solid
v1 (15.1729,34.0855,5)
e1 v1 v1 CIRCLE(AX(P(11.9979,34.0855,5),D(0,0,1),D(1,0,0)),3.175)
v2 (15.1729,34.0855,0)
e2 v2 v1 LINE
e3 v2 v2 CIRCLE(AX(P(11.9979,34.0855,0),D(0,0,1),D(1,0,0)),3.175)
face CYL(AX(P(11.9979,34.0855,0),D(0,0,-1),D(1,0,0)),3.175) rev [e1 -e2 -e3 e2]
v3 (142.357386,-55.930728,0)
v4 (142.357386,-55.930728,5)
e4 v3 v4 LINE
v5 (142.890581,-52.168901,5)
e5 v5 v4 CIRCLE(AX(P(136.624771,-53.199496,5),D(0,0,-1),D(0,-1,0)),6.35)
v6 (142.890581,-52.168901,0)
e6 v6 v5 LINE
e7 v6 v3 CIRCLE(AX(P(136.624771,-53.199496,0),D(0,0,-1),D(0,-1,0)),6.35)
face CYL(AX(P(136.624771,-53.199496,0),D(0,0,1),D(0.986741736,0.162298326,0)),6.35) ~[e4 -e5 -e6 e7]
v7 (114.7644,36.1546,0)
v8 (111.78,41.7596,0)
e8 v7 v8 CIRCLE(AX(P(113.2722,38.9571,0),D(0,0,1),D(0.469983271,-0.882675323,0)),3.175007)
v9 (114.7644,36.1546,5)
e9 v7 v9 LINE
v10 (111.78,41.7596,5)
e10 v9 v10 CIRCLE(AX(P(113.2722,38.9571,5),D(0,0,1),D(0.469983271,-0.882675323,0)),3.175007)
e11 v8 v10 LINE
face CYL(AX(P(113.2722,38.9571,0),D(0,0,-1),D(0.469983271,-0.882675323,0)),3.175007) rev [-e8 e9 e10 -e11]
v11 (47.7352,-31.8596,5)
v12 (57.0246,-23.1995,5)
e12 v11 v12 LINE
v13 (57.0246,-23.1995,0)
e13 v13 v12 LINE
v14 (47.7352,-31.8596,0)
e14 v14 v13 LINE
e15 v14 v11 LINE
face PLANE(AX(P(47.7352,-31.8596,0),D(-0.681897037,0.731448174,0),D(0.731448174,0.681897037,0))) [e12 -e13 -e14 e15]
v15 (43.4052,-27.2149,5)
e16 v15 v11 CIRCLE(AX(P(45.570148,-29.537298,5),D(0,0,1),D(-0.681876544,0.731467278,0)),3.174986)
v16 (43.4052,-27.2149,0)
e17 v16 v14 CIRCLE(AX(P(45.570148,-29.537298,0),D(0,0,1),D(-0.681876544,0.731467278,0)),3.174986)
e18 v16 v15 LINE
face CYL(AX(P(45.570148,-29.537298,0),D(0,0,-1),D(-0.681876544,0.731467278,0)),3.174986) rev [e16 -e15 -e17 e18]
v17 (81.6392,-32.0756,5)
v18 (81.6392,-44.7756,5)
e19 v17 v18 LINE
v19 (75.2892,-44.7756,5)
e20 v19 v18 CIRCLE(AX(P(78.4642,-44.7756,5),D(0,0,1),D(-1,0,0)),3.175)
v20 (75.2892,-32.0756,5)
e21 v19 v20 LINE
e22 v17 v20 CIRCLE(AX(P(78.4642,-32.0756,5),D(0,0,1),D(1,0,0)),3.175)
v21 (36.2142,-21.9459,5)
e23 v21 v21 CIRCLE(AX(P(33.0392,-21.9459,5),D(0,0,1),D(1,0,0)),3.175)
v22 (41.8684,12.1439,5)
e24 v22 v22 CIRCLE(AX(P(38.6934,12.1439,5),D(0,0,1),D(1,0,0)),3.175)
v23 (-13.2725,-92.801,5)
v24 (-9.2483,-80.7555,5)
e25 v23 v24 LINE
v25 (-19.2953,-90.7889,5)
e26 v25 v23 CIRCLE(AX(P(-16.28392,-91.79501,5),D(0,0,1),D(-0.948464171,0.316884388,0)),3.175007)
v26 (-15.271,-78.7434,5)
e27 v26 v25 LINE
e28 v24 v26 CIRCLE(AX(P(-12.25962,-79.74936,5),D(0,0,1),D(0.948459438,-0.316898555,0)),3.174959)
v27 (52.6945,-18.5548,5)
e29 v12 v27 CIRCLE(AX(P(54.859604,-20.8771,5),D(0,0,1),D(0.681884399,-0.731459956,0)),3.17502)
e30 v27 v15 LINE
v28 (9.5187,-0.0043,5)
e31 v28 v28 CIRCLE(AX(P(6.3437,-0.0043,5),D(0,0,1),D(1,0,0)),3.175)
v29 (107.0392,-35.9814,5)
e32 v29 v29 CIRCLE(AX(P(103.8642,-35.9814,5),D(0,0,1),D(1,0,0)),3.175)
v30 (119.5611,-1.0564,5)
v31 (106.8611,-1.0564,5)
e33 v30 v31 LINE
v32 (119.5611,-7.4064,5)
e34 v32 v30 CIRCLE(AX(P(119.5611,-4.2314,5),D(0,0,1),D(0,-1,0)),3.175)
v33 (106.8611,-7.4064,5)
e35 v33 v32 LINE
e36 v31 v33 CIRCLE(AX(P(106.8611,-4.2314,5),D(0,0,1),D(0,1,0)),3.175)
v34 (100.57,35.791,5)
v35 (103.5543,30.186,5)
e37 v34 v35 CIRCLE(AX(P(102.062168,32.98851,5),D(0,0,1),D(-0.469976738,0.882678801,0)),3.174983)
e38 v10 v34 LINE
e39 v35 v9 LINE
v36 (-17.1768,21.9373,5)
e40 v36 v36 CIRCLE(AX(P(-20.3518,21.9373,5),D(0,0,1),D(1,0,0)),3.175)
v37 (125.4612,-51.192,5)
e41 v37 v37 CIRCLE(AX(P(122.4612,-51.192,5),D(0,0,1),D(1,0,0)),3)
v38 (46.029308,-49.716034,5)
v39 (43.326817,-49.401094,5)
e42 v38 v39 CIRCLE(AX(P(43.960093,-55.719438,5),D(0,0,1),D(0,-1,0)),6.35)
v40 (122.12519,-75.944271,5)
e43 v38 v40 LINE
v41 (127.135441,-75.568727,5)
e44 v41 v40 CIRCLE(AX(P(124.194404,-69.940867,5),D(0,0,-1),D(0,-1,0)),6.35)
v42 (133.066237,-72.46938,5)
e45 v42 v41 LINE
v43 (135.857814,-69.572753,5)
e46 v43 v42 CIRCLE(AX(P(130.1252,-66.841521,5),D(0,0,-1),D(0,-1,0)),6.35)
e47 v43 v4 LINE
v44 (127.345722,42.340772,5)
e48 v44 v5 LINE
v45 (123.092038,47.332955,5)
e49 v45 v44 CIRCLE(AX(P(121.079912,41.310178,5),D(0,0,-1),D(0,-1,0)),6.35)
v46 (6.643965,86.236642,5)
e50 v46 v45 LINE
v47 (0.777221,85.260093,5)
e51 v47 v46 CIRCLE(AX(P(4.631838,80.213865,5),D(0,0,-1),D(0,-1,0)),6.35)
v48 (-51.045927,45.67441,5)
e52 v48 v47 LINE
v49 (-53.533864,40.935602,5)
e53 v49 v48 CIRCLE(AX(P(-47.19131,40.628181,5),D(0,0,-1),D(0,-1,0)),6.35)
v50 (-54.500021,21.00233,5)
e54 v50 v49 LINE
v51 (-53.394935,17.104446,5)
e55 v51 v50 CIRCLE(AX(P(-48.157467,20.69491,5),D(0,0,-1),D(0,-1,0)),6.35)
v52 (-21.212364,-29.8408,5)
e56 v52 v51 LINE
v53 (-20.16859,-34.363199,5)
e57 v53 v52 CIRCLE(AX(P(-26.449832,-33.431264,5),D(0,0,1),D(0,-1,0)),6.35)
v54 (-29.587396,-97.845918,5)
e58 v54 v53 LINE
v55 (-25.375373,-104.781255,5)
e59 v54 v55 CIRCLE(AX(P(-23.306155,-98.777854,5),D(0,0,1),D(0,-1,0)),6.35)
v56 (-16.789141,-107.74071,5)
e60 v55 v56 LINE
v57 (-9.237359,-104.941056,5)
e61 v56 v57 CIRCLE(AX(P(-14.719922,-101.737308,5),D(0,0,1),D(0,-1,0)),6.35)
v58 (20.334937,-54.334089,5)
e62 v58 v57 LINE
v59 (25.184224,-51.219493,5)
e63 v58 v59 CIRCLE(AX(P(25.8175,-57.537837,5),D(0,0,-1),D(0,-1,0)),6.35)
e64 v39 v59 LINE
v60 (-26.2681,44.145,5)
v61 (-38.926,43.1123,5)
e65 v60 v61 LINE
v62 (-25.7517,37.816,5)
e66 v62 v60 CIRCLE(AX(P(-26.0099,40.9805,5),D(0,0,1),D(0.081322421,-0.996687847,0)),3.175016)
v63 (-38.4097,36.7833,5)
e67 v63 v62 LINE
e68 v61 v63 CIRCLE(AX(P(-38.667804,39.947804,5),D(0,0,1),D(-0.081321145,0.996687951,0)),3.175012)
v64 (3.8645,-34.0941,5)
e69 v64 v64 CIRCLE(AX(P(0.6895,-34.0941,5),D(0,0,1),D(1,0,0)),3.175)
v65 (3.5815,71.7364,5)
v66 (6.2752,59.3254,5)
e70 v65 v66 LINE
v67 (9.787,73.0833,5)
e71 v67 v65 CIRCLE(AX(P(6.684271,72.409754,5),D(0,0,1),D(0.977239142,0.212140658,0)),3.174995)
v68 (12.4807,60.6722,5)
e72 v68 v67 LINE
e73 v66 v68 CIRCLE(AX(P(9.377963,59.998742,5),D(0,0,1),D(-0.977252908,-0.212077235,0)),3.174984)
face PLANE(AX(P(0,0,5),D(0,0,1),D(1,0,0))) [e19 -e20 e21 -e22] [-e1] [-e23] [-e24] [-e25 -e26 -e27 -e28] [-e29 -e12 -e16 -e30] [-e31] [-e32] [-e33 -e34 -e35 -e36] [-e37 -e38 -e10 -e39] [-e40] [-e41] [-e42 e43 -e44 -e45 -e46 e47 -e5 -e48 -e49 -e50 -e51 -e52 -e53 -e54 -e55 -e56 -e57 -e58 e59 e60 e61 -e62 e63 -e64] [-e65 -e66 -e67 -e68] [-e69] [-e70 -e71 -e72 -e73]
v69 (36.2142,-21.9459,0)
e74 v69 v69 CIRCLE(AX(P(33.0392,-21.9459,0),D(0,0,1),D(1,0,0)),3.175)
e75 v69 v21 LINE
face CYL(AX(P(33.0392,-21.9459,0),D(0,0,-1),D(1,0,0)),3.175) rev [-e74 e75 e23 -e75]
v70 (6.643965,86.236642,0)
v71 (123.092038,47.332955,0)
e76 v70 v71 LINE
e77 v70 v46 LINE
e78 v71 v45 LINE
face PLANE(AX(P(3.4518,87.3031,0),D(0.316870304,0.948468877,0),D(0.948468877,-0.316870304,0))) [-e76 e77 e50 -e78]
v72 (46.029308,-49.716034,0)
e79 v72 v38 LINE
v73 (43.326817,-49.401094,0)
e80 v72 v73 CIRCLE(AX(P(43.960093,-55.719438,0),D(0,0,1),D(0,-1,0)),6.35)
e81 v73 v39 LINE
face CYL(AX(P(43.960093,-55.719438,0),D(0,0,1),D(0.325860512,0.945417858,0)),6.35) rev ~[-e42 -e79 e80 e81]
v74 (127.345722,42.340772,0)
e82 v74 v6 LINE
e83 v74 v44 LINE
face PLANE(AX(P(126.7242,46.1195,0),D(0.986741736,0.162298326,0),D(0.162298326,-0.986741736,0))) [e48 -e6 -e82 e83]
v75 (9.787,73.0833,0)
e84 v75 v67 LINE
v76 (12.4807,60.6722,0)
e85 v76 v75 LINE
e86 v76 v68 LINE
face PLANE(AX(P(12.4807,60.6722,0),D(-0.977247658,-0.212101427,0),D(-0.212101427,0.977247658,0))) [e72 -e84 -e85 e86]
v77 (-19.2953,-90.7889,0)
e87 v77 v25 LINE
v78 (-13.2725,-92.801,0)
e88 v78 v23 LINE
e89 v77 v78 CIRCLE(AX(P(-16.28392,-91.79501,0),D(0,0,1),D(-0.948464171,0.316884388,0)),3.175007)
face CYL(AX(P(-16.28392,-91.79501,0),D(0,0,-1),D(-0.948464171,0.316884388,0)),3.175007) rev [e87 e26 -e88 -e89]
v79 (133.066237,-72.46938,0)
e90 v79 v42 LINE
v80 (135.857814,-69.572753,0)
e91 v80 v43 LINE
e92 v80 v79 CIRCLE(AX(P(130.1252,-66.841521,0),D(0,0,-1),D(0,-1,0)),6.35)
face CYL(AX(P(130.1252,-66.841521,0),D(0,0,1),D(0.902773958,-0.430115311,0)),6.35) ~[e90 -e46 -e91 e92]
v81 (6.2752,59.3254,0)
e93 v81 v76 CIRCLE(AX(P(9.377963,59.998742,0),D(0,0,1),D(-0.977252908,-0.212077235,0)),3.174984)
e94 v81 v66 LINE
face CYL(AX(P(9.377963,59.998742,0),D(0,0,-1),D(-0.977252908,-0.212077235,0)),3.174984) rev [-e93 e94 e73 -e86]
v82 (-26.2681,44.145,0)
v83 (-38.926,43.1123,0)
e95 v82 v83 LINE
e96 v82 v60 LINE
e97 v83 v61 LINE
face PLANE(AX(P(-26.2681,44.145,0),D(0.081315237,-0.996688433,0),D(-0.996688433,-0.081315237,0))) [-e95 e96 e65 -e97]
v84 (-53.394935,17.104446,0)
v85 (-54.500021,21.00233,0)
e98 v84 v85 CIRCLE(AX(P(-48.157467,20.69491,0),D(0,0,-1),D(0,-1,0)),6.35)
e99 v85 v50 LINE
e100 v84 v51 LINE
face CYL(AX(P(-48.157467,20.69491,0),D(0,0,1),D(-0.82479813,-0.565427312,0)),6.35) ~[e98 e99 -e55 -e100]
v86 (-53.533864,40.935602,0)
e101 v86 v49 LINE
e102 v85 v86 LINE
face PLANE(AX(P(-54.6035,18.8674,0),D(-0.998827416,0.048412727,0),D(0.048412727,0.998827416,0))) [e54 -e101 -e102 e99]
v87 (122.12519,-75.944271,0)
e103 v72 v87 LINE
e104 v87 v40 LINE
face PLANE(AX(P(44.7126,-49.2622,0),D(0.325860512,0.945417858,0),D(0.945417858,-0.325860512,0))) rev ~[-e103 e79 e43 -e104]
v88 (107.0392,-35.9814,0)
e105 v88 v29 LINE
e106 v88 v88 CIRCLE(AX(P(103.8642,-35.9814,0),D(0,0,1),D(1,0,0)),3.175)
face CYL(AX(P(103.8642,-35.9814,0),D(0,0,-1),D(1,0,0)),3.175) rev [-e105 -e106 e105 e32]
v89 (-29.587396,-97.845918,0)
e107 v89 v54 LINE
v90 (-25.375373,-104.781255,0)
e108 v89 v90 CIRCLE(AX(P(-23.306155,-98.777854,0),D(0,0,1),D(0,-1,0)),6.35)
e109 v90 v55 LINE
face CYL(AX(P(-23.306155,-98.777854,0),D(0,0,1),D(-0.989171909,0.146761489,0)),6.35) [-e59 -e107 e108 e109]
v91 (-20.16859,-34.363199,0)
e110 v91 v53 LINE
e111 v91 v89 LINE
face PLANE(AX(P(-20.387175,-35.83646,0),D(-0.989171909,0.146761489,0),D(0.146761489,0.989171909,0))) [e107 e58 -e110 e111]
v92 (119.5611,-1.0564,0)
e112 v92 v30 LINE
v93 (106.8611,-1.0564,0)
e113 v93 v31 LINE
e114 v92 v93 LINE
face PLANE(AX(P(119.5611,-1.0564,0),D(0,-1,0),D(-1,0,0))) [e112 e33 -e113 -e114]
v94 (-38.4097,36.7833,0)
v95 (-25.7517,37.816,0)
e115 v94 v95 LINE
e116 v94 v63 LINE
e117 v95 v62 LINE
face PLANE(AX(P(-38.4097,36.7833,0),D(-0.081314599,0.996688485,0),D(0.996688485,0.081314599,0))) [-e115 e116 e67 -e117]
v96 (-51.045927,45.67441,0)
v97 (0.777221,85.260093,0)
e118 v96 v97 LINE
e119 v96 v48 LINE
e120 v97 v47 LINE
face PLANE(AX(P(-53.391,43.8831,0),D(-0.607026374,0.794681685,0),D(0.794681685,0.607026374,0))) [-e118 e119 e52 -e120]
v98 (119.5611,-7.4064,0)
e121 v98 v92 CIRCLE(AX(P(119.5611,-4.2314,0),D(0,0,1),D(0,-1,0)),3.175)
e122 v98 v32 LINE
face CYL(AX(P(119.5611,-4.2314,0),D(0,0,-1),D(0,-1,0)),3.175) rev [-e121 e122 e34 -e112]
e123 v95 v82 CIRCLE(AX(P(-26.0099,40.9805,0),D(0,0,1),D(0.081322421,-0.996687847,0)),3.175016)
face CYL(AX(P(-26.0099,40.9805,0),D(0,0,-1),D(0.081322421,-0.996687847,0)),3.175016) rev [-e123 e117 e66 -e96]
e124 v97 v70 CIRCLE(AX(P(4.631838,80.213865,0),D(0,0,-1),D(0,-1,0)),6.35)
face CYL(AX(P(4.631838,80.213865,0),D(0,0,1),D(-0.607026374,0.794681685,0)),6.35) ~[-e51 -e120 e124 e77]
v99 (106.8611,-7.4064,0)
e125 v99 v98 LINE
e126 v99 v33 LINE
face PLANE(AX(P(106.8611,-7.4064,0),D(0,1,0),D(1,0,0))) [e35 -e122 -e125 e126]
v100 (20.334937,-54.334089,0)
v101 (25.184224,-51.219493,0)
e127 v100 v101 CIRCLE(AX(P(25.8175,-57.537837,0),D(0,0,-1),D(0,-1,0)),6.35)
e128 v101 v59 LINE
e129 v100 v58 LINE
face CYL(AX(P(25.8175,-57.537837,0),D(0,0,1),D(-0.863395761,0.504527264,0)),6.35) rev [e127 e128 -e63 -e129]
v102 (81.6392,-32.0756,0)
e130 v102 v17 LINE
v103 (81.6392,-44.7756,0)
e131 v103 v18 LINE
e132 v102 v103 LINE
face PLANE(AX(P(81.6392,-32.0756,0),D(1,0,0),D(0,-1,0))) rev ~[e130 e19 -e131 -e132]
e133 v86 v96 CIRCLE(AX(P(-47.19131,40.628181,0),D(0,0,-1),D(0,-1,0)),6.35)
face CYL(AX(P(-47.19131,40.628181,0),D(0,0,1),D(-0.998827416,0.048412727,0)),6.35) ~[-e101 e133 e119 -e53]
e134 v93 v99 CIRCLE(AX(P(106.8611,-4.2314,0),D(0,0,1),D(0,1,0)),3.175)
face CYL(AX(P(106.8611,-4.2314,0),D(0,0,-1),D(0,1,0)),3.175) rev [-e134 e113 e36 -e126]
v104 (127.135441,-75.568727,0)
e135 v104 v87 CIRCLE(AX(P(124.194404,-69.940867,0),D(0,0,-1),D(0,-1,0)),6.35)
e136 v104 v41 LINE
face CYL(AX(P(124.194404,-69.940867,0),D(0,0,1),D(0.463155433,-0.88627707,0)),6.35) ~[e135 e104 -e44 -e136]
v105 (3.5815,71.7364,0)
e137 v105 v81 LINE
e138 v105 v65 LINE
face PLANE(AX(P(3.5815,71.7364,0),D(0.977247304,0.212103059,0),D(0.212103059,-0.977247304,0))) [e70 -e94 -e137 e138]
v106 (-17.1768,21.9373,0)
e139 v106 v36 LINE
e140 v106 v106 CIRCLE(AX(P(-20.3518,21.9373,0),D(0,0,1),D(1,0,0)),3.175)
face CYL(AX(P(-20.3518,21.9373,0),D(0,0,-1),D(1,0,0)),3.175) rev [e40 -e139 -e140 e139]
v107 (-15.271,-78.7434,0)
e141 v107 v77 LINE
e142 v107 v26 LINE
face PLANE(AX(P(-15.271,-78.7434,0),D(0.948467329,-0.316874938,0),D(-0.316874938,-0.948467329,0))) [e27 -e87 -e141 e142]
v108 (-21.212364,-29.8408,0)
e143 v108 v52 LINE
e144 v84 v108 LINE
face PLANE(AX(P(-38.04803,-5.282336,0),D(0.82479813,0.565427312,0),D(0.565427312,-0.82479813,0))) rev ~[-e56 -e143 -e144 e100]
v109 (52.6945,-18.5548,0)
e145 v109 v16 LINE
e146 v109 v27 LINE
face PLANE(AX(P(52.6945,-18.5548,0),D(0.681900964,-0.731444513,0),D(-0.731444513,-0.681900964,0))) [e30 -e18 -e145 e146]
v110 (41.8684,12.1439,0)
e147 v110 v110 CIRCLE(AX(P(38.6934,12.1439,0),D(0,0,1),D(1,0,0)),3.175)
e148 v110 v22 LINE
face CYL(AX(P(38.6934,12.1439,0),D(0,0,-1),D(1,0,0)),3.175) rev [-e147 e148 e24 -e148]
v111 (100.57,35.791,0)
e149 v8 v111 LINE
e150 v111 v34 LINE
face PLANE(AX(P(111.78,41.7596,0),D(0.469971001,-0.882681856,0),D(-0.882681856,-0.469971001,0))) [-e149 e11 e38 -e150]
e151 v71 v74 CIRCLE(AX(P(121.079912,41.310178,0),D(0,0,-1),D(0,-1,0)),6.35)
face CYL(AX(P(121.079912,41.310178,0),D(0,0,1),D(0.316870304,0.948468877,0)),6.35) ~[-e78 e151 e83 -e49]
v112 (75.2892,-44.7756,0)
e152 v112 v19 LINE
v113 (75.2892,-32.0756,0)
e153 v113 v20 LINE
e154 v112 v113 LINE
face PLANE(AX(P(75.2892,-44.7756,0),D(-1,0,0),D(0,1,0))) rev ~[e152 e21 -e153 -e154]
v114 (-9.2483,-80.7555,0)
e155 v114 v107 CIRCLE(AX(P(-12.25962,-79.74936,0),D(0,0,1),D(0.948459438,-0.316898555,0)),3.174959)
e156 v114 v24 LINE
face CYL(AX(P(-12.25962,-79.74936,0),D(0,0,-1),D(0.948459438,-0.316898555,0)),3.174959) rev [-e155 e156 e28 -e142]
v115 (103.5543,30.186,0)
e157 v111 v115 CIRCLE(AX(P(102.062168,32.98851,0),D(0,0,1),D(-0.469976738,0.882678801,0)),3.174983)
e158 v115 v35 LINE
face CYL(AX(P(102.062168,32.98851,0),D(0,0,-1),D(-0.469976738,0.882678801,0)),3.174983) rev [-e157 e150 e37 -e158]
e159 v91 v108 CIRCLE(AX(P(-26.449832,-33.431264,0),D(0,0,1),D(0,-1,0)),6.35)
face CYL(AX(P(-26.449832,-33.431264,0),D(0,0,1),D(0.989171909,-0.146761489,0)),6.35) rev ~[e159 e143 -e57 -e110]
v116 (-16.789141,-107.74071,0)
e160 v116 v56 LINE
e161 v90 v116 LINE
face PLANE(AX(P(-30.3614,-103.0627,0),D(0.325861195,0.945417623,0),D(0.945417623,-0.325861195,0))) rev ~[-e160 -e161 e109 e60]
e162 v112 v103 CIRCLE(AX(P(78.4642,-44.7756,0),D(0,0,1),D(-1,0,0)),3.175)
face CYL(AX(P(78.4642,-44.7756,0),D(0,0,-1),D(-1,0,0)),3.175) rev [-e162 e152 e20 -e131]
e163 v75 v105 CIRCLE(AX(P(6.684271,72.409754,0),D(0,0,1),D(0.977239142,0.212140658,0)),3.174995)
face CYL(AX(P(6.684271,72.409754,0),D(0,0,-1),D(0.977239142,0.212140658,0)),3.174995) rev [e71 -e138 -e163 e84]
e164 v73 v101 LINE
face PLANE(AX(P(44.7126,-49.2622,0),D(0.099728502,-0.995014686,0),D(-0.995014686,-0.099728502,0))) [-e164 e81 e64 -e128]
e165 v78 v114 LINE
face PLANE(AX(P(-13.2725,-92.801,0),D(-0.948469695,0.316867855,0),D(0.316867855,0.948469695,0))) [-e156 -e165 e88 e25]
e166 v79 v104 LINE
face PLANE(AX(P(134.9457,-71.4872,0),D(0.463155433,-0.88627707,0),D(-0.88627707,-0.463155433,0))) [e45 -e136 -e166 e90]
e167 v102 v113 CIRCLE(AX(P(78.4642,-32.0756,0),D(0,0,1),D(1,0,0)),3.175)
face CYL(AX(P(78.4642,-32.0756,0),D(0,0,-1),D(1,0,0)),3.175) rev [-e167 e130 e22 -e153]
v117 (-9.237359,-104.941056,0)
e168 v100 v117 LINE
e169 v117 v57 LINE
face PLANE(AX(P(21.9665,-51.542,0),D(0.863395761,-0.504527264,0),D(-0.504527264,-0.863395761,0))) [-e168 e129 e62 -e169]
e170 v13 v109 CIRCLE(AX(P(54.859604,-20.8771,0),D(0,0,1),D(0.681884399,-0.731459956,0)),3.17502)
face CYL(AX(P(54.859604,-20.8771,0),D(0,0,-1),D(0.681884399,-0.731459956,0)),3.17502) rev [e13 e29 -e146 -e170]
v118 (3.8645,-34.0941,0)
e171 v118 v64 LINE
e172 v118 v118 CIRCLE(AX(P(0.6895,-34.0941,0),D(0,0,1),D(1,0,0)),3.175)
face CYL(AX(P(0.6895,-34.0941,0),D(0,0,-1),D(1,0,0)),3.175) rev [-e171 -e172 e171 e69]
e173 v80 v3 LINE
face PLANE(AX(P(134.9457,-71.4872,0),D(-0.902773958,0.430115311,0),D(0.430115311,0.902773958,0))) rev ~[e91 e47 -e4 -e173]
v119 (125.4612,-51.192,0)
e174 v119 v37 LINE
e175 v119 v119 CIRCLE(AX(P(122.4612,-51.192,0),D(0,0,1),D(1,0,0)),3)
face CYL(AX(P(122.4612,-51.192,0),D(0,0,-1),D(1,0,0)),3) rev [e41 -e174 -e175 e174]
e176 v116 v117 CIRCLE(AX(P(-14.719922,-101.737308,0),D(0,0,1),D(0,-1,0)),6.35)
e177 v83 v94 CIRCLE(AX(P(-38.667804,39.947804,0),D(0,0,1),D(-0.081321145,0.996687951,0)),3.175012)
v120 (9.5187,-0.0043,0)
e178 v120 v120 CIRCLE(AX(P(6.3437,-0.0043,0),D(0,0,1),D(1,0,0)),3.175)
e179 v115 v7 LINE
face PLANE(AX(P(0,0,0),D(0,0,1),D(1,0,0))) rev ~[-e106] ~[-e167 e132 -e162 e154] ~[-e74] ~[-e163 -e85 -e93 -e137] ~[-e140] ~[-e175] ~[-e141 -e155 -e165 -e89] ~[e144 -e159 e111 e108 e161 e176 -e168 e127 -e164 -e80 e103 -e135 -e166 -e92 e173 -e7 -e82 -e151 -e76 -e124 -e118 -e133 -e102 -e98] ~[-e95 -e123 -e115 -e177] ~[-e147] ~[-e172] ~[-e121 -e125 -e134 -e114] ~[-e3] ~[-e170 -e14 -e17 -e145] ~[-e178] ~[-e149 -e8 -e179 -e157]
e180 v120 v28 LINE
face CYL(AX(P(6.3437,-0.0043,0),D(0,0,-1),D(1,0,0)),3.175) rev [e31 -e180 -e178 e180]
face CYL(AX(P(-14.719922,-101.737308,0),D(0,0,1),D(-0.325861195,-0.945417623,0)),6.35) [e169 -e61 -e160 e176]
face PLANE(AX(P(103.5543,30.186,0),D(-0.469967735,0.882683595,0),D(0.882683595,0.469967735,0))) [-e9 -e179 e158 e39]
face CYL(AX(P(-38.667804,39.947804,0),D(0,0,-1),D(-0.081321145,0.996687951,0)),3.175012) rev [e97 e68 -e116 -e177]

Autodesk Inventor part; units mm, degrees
ref_plane "YZ Plane" through (0, 0, 0) normal (1, 0, 0) x (0, 1, 0)
ref_plane "XZ Plane" through (0, 0, 0) normal (0, 1, 0) x (-1, 0, 0)
ref_plane "XY Plane" through (0, 0, 0) normal (0, 0, 1) x (1, 0, 0)
sketch "Base" plane through (0, 0, 0) normal (0, 0, 1) x (1, 0, 0)
  circle A0 centre (6.3437, -0.0043) radius 44.7044
  line L0 (-53.391, 43.8831) -> (3.4518, 87.3031)
  line L1 (3.4518, 87.3031) -> (126.7242, 46.1195)
  line L2 (21.9665, -51.542) -> (-11.8651, -109.4379)
  line L3 (134.9457, -71.4872) -> (143.2137, -54.1334)
  line L4 (44.7126, -49.2622) -> (124.7112, -76.8356)
  line L5 (44.7126, -49.2622) -> (21.9665, -51.542)
  line L6 (126.7242, 46.1195) -> (143.2137, -54.1334)
  line L7 (134.9457, -71.4872) -> (124.7112, -76.8356)
  line L8 (-30.3614, -103.0627) -> (-11.8651, -109.4379)
  line L9 (-30.3614, -103.0627) -> (-19.8027, -31.8971)
  line L10 (-54.6035, 18.8674) -> (-53.391, 43.8831)
  line L11 (-54.6035, 18.8674) -> (-19.8027, -31.8971)
  line L12 (-94.1669, 0) -> (182.7771, 0) construction
  circle A1 centre (6.3437, -0.0043) radius 3.175
  circle A2 centre (103.8642, -35.9814) radius 3.175
  line L13 (126.7242, 46.1195) -> (-19.8027, -31.8971) construction
  line L14 (3.4518, 87.3031) -> (33.3396, -50.4021) construction
  line L15 (-53.9972, 31.3753) -> (126.7242, 46.1195) construction
  line L16 (134.969, -4.007) -> (-37.2031, -6.5149) construction
  line L17 (-21.1132, -106.2503) -> (39.5241, 75.2519) construction
  line L18 (78.4642, -60.8955) -> (78.4642, 62.2425) construction
  line L19 (21.9665, -51.542) -> (126.7242, 46.1195) construction
  line L20 (0, 0) -> (-53.391, 43.8831) construction
  circle A3 centre (-20.3518, 21.9373) radius 3.175
  circle A4 centre (6.3437, -0.0043) radius 34.5555 construction
  circle A5 centre (-26.006, -12.1525) radius 3.175
  circle A6 centre (0.6895, -34.0941) radius 3.175
  circle A7 centre (33.0392, -21.9459) radius 3.175
  circle A8 centre (38.6934, 12.1439) radius 3.175
  circle A9 centre (11.9979, 34.0855) radius 3.175
  line L21 (113.2722, 38.9571) -> (102.0622, 32.9885) construction
  line L22 (111.78, 41.7596) -> (100.57, 35.791)
  line L23 (103.5543, 30.186) -> (114.7644, 36.1546)
  arc A10 (114.7644, 36.1546) -> (111.78, 41.7596) centre (113.2722, 38.9571) ccw
  arc A11 (100.57, 35.791) -> (103.5543, 30.186) centre (102.0622, 32.9885) ccw
  line L24 (119.5611, -4.2314) -> (106.8611, -4.2314) construction
  line L25 (119.5611, -1.0564) -> (106.8611, -1.0564)
  line L26 (106.8611, -7.4064) -> (119.5611, -7.4064)
  arc A12 (119.5611, -7.4064) -> (119.5611, -1.0564) centre (119.5611, -4.2314) ccw
  arc A13 (106.8611, -1.0564) -> (106.8611, -7.4064) centre (106.8611, -4.2314) ccw
  line L27 (6.6843, 72.4098) -> (9.378, 59.9988) construction
  line L28 (3.5815, 71.7364) -> (6.2752, 59.3254)
  line L29 (12.4807, 60.6722) -> (9.787, 73.0833)
  arc A14 (9.787, 73.0833) -> (3.5815, 71.7364) centre (6.6843, 72.4098) ccw
  arc A15 (6.2752, 59.3254) -> (12.4807, 60.6722) centre (9.378, 59.9988) ccw
  line L30 (-16.2839, -91.795) -> (-12.2597, -79.7494) construction
  line L31 (-13.2725, -92.801) -> (-9.2483, -80.7555)
  line L32 (-15.271, -78.7434) -> (-19.2953, -90.7889)
  arc A16 (-19.2953, -90.7889) -> (-13.2725, -92.801) centre (-16.2839, -91.795) ccw
  arc A17 (-9.2483, -80.7555) -> (-15.271, -78.7434) centre (-12.2597, -79.7494) ccw
  line L33 (78.4642, -44.7756) -> (78.4642, -32.0756) construction
  line L34 (75.2892, -44.7756) -> (75.2892, -32.0756)
  line L35 (81.6392, -32.0756) -> (81.6392, -44.7756)
  arc A18 (75.2892, -44.7756) -> (81.6392, -44.7756) centre (78.4642, -44.7756) ccw
  arc A19 (81.6392, -32.0756) -> (75.2892, -32.0756) centre (78.4642, -32.0756) ccw
  line L36 (-38.6678, 39.9478) -> (-26.0099, 40.9805) construction
  line L37 (-38.4097, 36.7833) -> (-25.7517, 37.816)
  line L38 (-26.2681, 44.145) -> (-38.926, 43.1123)
  arc A20 (-38.926, 43.1123) -> (-38.4097, 36.7833) centre (-38.6678, 39.9478) ccw
  arc A21 (-25.7517, 37.816) -> (-26.2681, 44.145) centre (-26.0099, 40.9805) ccw
  line L39 (45.5702, -29.5373) -> (54.8596, -20.8771) construction
  line L40 (47.7352, -31.8596) -> (57.0246, -23.1995)
  line L41 (52.6945, -18.5548) -> (43.4052, -27.2149)
  arc A22 (43.4052, -27.2149) -> (47.7352, -31.8596) centre (45.5702, -29.5373) ccw
  arc A23 (57.0246, -23.1995) -> (52.6945, -18.5548) centre (54.8596, -20.8771) ccw
  line L42 (-38.6678, 39.9478) -> (-53.391, 43.8831) construction
  circle A24 centre (122.4612, -51.192) radius 3
  point P0 (107.6672, 35.9728)
  point P1 (113.2111, -4.2314)
  point P2 (8.0311, 66.2043)
  point P3 (-14.2718, -85.7722)
  point P4 (78.4642, -38.4256)
  point P5 (-32.3389, 40.4642)
  point P6 (50.2149, -25.2072)
  dimension "d48" = 69.111
  dimension "d1" = 89.4088
  dimension "d2" = 55.568
  dimension "d3" = 37.094
  dimension "d4" = 120.3
  dimension "d5" = 81.561
  dimension "d6" = 160.982
  dimension "d7" = 133.392
  dimension "d8" = 143.066
  dimension "d9" = 145.185
  dimension "d10" = 124.151
  dimension "d11" = 130.15
  dimension "d12" = 142.793
  dimension "d13" = 117.814
  dimension "d14" = 19.5642
  dimension "d15" = 25.0158
  dimension "d16" = 71.529
  dimension "d17" = 61.5478
  dimension "d18" = 129.9699
  dimension "d19" = 101.6
  dimension "d20" = 19.2227
  dimension "d21" = 11.5477
  dimension "d22" = 84.6172
  dimension "d23" = 67.056
  dimension "d24" = 22.86
  dimension "d25" = 39.5986
  dimension "d26" = 71.1371
  dimension "d29" = 6.35
  dimension "d30" = 6.35
  dimension "d31" = 48.26
  dimension "d32" = 6.35
  dimension "d35" = 360
  dimension "d37" = 6.35
  dimension "d38" = 6.35
  dimension "d39" = 15.24
  dimension "d40" = 12.7
  dimension "d41" = 15.24
  dimension "d43" = 15.24
  dimension "d44" = 15.24
  dimension "d45" = 15.24
  dimension "d46" = 15.7016
  dimension "d49" = 140.583
  dimension "d50" = 4.2314
  dimension "d51" = 91.5631
  dimension "d52" = 12.1439
  dimension "d53" = 0
  dimension "d60" = 126.024
  dimension "d61" = 155.259
  dimension "d63" = 15.24
  dimension "d64" = 12.0647
  dimension "d67" = 25.4
  dimension "d68" = 31.75
  dimension "d69" = 6
  dimension "d70" = 20
  dimension "d71" = 20
extrude "Plate1" add sketch "Base" along normal blind 5 contours A0 L9 L11 | A0 L11 L10 L0 L1 L6 L3 L7 L4 L5 L2 L8 L9 | A5 picked at (-0.619, 18.5381)
fillet "OutsideFilletsFeature" radius 6.35 12 edges at (126.7242, 46.1195, 2.5) (3.4518, 87.3031, 2.5) (143.2137, -54.1334, 2.5) (134.9457, -71.4872, 2.5) (124.7112, -76.8356, 2.5) (-11.8651, -109.4379, 2.5) (44.7126, -49.2622, 2.5) (21.9665, -51.542, 2.5) (-30.3614, -103.0627, 2.5) (-19.8027, -31.8971, 2.5) (-54.6035, 18.8674, 2.5) (-53.391, 43.8831, 2.5)
sketch "HandleAttachment" plane through (0, 0, 0) normal (0, 0, -1) x (-1, 0, 0)
  circle A0 centre (-122.4612, -51.192) radius 3 projected
  point P0 (0, 0)
equation "\"d41\" = d39"
equation "\"d43\" = d39"
equation "\"d44\" = d43"
equation "\"d45\" = d43"
equation "\"d47\" = Thickness"
equation "\"Thickness\" = 5"
properties part number "UpperLeg2"
